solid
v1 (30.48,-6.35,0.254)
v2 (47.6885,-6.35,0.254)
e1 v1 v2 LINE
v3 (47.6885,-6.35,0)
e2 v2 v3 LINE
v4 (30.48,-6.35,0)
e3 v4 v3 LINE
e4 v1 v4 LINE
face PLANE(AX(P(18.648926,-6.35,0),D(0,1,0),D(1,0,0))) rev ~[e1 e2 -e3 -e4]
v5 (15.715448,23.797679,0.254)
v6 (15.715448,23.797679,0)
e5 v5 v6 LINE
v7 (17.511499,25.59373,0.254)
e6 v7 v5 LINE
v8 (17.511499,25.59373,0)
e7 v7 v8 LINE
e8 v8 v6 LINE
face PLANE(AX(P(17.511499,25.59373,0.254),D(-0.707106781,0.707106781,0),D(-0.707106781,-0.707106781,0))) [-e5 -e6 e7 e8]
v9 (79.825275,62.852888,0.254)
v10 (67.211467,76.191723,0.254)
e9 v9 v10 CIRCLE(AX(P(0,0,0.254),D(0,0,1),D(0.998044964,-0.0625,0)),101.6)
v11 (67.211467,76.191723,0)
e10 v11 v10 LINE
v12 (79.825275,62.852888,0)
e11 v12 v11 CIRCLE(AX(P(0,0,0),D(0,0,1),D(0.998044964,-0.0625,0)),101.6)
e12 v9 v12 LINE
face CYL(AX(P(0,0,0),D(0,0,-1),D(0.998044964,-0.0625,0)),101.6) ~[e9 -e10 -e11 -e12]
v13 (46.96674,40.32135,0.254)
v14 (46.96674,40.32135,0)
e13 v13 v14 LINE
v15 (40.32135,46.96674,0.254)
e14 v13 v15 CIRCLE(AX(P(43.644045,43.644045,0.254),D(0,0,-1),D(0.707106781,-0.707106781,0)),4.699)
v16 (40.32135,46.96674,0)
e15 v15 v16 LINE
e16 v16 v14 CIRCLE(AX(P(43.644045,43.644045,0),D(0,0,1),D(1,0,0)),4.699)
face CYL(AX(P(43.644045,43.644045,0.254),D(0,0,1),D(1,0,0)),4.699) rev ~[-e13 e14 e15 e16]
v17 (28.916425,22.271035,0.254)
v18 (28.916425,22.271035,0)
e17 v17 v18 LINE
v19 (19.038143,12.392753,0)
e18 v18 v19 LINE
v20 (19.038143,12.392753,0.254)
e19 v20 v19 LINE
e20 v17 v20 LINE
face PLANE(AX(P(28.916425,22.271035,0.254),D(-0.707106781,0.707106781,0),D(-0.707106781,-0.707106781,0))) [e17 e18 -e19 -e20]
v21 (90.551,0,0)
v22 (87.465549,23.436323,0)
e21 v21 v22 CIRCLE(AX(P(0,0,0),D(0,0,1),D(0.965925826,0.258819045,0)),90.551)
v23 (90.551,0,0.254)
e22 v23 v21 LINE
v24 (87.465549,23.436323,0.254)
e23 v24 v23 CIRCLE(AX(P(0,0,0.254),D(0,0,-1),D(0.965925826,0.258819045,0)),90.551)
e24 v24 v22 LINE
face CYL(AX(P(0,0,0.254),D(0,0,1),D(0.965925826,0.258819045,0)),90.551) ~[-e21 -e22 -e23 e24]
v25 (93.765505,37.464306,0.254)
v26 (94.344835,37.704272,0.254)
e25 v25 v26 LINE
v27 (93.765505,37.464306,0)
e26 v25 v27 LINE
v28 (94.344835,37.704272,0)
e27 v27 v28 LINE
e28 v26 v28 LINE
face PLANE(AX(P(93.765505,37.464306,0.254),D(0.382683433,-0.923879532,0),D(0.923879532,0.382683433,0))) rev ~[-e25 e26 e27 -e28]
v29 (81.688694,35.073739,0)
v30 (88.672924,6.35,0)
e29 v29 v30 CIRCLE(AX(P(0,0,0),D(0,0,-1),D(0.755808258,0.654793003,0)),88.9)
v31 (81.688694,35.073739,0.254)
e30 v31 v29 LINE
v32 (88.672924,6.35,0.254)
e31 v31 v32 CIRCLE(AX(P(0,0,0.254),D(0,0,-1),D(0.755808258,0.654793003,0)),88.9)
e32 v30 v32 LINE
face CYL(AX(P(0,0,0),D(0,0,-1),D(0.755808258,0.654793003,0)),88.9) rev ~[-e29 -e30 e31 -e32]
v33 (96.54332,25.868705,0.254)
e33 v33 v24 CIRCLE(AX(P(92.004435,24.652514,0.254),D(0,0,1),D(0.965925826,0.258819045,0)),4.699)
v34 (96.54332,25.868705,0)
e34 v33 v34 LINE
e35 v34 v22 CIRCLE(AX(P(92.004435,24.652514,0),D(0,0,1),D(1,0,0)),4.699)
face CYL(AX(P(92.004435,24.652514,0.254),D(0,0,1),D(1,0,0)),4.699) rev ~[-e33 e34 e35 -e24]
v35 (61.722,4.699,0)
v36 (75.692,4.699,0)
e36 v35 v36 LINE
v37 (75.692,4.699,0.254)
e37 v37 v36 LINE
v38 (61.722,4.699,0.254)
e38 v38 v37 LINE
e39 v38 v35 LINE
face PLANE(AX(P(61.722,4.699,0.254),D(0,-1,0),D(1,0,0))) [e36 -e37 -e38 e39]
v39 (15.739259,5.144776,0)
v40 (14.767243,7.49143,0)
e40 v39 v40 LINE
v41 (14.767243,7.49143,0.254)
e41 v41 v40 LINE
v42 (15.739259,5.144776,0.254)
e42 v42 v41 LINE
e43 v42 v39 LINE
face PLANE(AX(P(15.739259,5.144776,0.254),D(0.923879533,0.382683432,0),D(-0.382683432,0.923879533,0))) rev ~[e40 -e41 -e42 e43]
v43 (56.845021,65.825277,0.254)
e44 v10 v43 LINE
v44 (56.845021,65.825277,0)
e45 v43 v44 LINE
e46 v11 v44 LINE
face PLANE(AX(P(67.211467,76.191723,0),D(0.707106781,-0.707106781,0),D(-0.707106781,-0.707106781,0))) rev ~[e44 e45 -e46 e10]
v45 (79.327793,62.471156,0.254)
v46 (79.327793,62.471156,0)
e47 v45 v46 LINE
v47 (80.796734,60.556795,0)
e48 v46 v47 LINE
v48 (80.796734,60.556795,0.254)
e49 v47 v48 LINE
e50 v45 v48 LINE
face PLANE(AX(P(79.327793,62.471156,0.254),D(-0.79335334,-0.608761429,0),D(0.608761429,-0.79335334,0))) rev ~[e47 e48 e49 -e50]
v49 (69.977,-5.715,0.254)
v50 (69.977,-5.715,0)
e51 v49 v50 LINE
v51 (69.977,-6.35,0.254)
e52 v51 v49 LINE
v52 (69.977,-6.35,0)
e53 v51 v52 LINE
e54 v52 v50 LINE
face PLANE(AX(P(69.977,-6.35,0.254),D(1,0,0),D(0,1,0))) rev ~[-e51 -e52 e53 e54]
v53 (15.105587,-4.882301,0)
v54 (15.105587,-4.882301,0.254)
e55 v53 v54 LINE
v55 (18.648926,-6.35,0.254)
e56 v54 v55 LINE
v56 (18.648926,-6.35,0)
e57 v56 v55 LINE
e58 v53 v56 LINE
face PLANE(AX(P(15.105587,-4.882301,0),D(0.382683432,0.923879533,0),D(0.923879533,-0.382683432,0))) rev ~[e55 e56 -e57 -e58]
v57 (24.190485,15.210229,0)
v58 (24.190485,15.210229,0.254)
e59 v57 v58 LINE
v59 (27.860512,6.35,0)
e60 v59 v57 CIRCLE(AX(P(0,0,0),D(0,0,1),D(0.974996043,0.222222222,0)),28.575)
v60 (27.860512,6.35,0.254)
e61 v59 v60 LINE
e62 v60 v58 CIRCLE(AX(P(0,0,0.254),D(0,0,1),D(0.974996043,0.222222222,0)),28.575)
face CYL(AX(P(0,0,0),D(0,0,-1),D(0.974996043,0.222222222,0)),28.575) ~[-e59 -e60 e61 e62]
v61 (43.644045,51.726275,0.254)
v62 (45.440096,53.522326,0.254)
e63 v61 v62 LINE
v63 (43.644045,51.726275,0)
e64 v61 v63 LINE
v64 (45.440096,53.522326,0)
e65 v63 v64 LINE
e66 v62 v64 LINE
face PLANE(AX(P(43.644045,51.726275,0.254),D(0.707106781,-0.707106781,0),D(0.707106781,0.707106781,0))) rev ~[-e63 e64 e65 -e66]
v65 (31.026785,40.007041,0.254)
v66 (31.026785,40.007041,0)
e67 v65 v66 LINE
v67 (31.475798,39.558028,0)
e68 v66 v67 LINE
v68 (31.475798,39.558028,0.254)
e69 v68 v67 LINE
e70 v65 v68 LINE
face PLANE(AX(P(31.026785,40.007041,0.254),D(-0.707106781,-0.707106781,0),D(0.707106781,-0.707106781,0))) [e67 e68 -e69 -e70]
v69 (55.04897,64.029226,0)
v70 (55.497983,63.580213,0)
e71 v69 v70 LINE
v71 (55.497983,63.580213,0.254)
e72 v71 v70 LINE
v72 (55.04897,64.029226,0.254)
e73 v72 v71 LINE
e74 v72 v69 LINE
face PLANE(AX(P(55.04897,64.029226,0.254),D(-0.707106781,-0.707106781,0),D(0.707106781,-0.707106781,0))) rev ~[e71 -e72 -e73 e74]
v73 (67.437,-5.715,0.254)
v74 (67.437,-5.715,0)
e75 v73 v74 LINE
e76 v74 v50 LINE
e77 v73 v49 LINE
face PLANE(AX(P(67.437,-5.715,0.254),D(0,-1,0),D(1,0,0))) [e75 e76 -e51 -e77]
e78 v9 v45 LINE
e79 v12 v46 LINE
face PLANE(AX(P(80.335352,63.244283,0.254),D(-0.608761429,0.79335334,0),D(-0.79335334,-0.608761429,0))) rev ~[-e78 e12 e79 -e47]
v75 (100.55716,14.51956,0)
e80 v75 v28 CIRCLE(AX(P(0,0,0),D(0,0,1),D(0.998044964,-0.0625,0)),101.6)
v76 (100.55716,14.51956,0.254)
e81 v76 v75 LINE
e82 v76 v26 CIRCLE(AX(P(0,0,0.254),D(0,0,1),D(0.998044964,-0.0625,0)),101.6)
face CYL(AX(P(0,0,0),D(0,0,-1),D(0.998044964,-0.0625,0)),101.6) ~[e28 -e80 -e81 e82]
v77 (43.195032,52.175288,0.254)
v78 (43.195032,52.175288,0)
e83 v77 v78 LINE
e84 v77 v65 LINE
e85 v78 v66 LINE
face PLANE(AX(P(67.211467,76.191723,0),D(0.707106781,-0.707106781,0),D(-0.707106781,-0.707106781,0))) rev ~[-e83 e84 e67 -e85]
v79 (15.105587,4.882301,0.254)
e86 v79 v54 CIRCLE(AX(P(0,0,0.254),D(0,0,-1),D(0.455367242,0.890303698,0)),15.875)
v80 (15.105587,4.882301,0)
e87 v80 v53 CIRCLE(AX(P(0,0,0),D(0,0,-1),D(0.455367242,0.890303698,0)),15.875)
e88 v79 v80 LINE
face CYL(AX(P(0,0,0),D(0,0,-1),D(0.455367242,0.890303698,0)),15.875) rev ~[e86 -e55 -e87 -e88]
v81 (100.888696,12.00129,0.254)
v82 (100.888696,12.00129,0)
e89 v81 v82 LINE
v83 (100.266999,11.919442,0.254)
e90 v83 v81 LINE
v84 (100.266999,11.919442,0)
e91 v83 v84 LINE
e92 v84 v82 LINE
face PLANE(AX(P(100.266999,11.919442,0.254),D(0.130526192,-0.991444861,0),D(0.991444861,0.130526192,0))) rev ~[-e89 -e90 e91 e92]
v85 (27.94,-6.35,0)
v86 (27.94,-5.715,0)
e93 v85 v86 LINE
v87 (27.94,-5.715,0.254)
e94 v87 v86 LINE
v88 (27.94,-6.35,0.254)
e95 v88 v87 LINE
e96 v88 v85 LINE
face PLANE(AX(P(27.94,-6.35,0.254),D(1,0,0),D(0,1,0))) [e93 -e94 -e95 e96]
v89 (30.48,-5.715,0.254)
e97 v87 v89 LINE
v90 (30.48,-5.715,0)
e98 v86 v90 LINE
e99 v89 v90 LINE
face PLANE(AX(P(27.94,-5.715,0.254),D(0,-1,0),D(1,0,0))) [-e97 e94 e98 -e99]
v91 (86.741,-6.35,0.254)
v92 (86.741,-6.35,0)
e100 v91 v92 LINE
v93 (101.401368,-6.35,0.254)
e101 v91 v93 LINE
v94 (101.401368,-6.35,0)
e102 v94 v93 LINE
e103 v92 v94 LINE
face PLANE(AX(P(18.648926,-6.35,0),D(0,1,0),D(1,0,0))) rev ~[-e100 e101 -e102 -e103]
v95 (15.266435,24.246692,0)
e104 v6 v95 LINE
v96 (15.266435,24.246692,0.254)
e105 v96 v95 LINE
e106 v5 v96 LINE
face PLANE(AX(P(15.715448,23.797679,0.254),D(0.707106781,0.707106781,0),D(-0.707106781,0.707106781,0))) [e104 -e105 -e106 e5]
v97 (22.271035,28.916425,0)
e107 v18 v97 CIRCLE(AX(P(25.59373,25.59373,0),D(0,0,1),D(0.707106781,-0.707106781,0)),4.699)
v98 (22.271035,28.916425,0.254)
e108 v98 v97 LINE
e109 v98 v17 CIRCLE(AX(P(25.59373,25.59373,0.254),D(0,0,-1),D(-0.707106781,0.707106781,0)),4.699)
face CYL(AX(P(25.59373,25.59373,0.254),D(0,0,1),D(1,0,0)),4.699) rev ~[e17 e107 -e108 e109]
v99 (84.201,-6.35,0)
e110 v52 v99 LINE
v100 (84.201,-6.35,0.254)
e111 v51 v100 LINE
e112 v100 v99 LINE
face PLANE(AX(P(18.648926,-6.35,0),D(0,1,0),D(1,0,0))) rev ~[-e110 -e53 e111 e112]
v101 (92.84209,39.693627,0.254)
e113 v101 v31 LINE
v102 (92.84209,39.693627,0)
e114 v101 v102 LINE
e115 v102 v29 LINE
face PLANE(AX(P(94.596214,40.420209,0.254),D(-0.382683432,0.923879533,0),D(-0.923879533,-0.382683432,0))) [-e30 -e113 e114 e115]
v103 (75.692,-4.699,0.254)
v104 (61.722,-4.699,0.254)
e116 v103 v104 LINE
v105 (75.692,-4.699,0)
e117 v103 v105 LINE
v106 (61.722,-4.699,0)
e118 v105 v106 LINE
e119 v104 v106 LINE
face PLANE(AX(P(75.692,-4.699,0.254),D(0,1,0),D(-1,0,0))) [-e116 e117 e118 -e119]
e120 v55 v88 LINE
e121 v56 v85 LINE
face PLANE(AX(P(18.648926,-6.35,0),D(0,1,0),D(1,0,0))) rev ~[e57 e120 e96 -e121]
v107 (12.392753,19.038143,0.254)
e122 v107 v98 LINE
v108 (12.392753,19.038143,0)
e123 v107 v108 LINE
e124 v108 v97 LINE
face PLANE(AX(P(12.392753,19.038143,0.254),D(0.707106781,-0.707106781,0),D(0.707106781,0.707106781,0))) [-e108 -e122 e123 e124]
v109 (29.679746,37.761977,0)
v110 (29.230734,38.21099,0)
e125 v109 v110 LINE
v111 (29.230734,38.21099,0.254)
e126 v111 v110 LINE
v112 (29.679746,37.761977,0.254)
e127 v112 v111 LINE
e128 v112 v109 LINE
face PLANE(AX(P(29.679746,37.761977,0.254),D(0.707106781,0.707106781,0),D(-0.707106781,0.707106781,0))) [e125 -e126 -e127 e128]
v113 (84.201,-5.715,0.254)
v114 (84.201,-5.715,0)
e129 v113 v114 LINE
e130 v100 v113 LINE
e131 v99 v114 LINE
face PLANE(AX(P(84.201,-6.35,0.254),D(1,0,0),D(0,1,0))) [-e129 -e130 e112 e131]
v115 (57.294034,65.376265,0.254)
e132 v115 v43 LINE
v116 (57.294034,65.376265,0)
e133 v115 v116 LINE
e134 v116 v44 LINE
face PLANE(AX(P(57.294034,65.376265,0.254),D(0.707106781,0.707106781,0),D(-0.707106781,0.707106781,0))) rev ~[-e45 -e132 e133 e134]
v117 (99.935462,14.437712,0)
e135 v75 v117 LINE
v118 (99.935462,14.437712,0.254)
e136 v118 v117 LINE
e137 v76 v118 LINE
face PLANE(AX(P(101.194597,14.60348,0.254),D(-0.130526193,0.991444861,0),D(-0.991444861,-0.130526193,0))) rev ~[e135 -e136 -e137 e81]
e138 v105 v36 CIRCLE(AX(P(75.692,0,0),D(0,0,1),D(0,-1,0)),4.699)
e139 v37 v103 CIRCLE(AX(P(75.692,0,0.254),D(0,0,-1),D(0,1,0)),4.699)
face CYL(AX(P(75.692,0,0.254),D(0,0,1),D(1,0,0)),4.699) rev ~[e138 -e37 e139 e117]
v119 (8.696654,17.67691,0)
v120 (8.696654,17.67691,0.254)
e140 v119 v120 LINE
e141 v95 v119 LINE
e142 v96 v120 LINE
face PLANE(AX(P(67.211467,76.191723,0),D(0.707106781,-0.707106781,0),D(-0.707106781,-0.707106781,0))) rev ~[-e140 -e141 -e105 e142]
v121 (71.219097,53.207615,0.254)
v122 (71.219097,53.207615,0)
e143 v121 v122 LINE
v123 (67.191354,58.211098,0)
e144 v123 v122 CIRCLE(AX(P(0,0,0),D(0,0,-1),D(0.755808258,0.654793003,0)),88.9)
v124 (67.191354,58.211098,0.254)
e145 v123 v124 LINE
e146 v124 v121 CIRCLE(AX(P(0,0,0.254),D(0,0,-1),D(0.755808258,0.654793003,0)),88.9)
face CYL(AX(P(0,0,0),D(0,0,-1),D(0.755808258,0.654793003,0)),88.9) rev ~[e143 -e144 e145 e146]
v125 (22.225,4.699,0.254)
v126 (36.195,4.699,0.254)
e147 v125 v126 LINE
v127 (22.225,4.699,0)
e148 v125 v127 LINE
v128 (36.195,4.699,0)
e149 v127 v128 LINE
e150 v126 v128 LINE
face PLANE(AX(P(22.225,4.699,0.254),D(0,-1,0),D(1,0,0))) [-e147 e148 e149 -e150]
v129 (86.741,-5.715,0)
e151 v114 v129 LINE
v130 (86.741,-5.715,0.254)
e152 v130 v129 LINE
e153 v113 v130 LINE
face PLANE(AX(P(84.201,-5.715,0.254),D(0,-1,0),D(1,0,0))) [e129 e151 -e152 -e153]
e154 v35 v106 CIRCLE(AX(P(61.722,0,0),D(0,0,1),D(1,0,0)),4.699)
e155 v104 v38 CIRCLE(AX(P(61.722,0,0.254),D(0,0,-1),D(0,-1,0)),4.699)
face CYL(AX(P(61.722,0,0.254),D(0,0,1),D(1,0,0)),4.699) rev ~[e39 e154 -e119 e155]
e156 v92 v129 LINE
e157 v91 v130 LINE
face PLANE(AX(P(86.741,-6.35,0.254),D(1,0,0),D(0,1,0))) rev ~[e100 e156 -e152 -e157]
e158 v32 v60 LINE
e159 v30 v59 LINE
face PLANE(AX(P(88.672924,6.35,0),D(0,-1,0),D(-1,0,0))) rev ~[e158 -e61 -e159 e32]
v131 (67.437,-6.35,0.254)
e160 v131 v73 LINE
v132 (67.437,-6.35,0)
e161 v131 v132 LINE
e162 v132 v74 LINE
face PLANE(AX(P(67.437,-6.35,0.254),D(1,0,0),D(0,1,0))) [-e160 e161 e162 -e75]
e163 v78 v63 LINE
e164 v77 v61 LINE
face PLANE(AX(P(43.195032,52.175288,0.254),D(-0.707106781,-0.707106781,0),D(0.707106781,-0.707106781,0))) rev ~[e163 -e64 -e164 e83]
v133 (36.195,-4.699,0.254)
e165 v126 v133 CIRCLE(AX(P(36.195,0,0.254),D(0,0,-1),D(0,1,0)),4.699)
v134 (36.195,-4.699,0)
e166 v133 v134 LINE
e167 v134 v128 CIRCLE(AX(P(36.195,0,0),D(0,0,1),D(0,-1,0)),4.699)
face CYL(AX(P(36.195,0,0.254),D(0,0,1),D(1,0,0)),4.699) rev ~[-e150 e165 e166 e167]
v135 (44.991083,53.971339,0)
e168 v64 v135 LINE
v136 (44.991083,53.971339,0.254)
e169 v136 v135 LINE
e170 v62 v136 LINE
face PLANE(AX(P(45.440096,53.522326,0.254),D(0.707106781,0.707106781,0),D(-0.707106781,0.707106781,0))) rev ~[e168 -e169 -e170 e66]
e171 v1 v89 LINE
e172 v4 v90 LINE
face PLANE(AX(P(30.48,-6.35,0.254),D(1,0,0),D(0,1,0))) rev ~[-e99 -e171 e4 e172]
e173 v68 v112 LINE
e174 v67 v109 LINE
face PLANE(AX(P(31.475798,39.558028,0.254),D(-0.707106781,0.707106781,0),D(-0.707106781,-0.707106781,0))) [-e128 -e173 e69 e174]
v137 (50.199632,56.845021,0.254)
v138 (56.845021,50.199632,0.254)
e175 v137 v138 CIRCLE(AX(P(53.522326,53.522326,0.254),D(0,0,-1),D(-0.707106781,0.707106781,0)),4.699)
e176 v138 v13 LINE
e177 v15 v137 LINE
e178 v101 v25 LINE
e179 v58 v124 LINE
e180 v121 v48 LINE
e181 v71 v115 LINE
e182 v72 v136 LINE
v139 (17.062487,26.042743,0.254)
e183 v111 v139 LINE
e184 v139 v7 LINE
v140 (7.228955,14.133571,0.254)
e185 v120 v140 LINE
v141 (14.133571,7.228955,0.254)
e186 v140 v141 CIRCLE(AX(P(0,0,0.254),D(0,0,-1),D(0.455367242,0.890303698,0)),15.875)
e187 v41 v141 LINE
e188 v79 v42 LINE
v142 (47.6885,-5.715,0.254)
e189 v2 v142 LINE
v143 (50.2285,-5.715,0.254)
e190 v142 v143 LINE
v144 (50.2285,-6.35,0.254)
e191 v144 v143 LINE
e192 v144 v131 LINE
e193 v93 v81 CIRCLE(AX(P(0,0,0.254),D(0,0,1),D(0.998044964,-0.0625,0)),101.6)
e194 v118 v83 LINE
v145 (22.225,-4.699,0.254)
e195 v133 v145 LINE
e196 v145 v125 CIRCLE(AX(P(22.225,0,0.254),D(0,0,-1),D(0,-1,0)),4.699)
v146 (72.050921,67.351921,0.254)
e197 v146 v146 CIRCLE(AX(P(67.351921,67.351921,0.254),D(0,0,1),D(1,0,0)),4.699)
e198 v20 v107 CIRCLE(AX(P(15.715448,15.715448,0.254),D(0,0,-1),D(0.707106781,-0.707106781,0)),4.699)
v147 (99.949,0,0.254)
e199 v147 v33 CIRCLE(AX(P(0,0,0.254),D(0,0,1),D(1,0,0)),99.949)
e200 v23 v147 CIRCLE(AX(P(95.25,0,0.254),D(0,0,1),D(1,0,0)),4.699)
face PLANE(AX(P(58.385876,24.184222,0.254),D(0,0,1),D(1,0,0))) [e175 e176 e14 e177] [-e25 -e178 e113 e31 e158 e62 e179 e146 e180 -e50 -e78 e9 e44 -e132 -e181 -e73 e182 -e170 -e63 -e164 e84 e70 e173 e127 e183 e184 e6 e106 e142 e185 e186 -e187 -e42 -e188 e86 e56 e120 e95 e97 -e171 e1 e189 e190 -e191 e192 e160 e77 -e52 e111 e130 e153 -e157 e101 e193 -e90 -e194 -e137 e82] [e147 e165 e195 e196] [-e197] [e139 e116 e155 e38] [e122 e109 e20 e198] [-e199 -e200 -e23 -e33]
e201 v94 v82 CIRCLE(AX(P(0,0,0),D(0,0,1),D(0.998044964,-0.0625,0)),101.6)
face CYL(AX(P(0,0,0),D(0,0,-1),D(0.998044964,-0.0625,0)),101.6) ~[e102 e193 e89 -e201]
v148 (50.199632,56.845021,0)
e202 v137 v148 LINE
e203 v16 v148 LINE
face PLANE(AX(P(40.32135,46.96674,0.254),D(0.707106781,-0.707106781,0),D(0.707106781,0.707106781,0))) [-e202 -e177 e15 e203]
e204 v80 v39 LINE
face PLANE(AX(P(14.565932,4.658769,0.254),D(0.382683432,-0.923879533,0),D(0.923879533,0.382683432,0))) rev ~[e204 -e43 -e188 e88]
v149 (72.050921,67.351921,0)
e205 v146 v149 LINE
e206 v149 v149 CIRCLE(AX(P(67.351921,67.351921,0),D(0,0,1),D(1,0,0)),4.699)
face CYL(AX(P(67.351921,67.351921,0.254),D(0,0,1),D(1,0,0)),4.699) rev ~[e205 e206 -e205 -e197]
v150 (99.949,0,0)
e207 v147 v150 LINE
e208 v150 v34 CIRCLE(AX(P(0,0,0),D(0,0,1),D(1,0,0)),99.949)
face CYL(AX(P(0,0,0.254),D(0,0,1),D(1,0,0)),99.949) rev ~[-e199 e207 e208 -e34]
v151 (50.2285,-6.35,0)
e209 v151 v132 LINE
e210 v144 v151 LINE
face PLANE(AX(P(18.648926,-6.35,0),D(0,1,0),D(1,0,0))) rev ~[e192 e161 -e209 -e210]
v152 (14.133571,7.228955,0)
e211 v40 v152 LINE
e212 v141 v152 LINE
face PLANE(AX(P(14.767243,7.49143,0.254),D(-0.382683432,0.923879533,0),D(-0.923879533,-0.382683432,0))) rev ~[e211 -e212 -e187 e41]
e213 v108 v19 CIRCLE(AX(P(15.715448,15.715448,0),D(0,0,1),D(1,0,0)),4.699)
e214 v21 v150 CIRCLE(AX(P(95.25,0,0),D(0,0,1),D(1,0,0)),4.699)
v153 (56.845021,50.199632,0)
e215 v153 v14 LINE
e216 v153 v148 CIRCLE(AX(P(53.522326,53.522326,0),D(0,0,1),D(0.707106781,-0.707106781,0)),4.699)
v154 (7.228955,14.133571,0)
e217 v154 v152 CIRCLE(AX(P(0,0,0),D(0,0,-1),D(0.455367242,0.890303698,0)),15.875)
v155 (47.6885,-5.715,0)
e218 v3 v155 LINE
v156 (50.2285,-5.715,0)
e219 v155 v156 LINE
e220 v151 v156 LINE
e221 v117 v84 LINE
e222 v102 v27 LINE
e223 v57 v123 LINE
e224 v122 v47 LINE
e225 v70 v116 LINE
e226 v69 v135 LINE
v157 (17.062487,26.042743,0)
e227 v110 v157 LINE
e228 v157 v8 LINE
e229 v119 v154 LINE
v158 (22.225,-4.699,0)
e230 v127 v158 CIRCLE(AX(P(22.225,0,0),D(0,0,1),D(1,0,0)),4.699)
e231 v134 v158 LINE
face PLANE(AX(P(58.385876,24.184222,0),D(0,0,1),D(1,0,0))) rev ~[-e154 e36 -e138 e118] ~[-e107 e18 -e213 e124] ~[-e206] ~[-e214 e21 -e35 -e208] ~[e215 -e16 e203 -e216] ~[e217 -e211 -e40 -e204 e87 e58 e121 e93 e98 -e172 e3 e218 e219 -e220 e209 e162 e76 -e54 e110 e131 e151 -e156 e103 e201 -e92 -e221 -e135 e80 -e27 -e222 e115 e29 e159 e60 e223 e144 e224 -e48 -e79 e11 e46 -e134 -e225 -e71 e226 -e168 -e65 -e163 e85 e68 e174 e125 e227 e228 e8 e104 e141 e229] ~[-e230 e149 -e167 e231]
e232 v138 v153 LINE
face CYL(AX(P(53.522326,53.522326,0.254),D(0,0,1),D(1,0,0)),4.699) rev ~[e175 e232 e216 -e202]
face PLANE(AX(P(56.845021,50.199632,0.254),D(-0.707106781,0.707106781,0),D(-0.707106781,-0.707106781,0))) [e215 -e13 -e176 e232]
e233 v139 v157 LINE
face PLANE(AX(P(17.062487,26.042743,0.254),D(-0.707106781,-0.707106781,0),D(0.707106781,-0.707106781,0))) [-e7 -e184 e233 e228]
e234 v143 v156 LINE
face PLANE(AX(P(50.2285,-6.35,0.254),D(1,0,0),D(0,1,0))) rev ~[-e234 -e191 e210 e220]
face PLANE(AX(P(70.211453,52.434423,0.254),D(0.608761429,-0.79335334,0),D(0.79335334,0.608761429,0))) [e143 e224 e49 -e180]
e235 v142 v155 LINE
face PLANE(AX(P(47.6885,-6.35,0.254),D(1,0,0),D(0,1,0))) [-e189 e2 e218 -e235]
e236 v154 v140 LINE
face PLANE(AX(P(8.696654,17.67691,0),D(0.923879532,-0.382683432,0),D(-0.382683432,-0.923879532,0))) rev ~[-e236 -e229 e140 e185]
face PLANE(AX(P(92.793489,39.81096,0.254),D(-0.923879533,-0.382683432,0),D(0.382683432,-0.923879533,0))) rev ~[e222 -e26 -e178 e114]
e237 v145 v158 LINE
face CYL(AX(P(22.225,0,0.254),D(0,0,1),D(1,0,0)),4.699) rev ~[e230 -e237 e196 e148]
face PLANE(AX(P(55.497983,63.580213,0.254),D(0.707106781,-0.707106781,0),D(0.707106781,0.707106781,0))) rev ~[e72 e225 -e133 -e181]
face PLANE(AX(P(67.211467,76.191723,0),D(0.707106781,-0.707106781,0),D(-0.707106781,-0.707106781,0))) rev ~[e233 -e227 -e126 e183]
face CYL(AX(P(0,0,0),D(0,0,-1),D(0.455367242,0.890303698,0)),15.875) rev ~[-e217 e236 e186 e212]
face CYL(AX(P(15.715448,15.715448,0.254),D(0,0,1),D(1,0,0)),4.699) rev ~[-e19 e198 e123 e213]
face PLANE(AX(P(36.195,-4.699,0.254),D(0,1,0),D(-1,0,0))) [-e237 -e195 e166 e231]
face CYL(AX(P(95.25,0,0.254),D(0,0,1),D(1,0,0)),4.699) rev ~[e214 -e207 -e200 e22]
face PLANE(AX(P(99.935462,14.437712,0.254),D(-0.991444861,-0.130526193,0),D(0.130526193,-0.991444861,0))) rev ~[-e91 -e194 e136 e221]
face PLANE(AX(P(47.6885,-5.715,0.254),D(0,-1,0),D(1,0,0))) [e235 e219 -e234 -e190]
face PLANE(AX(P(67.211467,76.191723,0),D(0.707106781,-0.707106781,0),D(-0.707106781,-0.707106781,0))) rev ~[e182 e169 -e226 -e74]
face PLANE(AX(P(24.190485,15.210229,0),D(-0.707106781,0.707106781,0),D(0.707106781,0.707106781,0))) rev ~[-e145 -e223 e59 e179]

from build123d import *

# Parameters (mm, degrees)
BOSS_EXTRUDE1_DEPTH = 0.254
SKETCH2_R           = 4.699
CUT_EXTRUDE1_DEPTH  = 1.254
SKETCH3_W           = 2.54
SKETCH3_H           = 0.635
CUT_EXTRUDE2_DEPTH  = 1.254
CUT_EXTRUDE4_DEPTH  = 1.254
CUT_EXTRUDE5_DEPTH  = 1.254


with BuildPart() as part:
    # Sketch1 → Boss-Extrude1 (new body)
    with BuildSketch(Plane.XY):
        with BuildLine():
            Line((67.21146711, 76.191723231), (8.696654013, 17.676910134))
            Line((8.696654013, 17.676910134), (7.228954972, 14.133571205))
            ThreePointArc((7.228954972, 14.133571205), (14.666587579, 6.075099489), (15.105587123, -4.88230096))
            Line((15.105587123, -4.88230096), (18.648926052, -6.35))
            Line((18.648926052, -6.35), (101.401368334, -6.35))
            ThreePointArc((101.401368334, -6.35), (93.866160503, 38.880636728), (67.21146711, 76.191723231))
        make_face()
        with BuildLine():
            Line((88.672924278, 6.35), (27.86051193, 6.35))
            ThreePointArc((27.86051193, 6.35), (26.399857642, 10.93517908), (24.190484974, 15.210228852))
            Line((24.190484974, 15.210228852), (67.191354125, 58.211098004))
            ThreePointArc((67.191354125, 58.211098004), (82.13289044, 34.020557137), (88.672924278, 6.35))
        make_face(mode=Mode.SUBTRACT)
    extrude(amount=BOSS_EXTRUDE1_DEPTH)

    # Sketch2 → Cut-Extrude1 (cut, through all)
    with BuildSketch(Plane.XY.offset(0.254)):
        with Locations((22.225, 0)):
            Circle(SKETCH2_R)
        with Locations((36.195, 0)):
            Circle(SKETCH2_R)
        with Locations((61.722, 0)):
            Circle(SKETCH2_R)
        with Locations((75.692, 0)):
            Circle(SKETCH2_R)
        with Locations((95.25, 0)):
            Circle(SKETCH2_R)
        with Locations((15.715448212, 15.715448212)):
            Circle(SKETCH2_R)
        with Locations((25.593729945, 25.593729945)):
            Circle(SKETCH2_R)
        with Locations((43.644044748, 43.644044748)):
            Circle(SKETCH2_R)
        with Locations((53.522326482, 53.522326482)):
            Circle(SKETCH2_R)
        with Locations((92.004434954, 24.652514046)):
            Circle(SKETCH2_R)
        with Locations((82.48891971, 47.625)):
            Circle(SKETCH2_R)
        with Locations((67.351920908, 67.351920908)):
            Circle(SKETCH2_R)
    extrude(amount=-CUT_EXTRUDE1_DEPTH, mode=Mode.SUBTRACT)

    # Sketch3 → Cut-Extrude2 (cut, through all)
    with BuildSketch(Plane.XY.offset(0.254)):
        Polygon((15.266435406, 24.246691527), (17.06248663, 26.042742751), (17.511499436, 25.593729945), (15.715448212, 23.797678721), align=None)
        Polygon((44.991083167, 53.971339288), (43.195031942, 52.175288063), (43.644044748, 51.726275257), (45.440095973, 53.522326482), align=None)
        with Locations((29.21, -6.0325)):
            Rectangle(SKETCH3_W, SKETCH3_H)
        with Locations((68.707, -6.0325)):
            Rectangle(SKETCH3_W, SKETCH3_H)
        Polygon((29.230733674, 38.210989795), (31.026784898, 40.007041019), (31.475797704, 39.558028213), (29.67974648, 37.761976989), align=None)
        Polygon((56.845021246, 65.825277367), (55.048970022, 64.029226143), (55.497982828, 63.580213337), (57.294034052, 65.376264561), align=None)
        with Locations((48.9585, -6.0325)):
            Rectangle(SKETCH3_W, SKETCH3_H)
        with Locations((85.471, -6.0325)):
            Rectangle(SKETCH3_W, SKETCH3_H)
        Polygon((99.935462164, 14.437711971), (100.266998693, 11.919442024), (101.526133667, 12.085210288), (101.194597138, 14.603480236), align=None)
        Polygon((93.765504959, 37.464305742), (94.938831965, 37.950313702), (93.966816047, 40.296967714), (92.793489041, 39.810959755), align=None)
        Polygon((79.327792988, 62.471156422), (80.874047017, 60.456038938), (81.88160576, 61.229165953), (80.33535173, 63.244283437), align=None)
        Polygon((13.593916116, 7.005422516), (14.565932035, 4.658768503), (15.739259041, 5.144776462), (14.767243123, 7.491430475), align=None)
    extrude(amount=-CUT_EXTRUDE2_DEPTH, mode=Mode.SUBTRACT)

    # Sketch6 → Cut-Extrude4 (cut, through all)
    with BuildSketch(Plane.XY.offset(0.254)):
        with BuildLine():
            Line((12.392753447, 19.038142977), (22.27103518, 28.91642471))
            ThreePointArc((22.27103518, 28.91642471), (28.91642471, 28.91642471), (28.91642471, 22.27103518))
            Line((28.91642471, 22.27103518), (19.038142977, 12.392753447))
            ThreePointArc((19.038142977, 12.392753447), (12.392753447, 12.392753447), (12.392753447, 19.038142977))
        make_face()
        with BuildLine():
            Line((40.321349984, 46.966739513), (50.199631717, 56.845021246))
            ThreePointArc((50.199631717, 56.845021246), (56.845021246, 56.845021246), (56.845021246, 50.199631717))
            Line((56.845021246, 50.199631717), (46.966739513, 40.321349984))
            ThreePointArc((46.966739513, 40.321349984), (40.321349984, 40.321349984), (40.321349984, 46.966739513))
        make_face()
        with BuildLine():
            Line((22.225, 4.699), (36.195, 4.699))
            ThreePointArc((36.195, 4.699), (40.894, 0), (36.195, -4.699))
            Line((36.195, -4.699), (22.225, -4.699))
            ThreePointArc((22.225, -4.699), (17.526, 0), (22.225, 4.699))
        make_face()
        with BuildLine():
            Line((61.722, 4.699), (75.692, 4.699))
            ThreePointArc((75.692, 4.699), (80.391, 0), (75.692, -4.699))
            Line((75.692, -4.699), (61.722, -4.699))
            ThreePointArc((61.722, -4.699), (57.023, 0), (61.722, 4.699))
        make_face()
        with BuildLine():
            ThreePointArc((99.949, 0), (99.093922449, 13.045962386), (96.543320412, 25.868704739))
            ThreePointArc((96.543320412, 25.868704739), (90.788244261, 29.191399504), (87.465549496, 23.436323353))
            ThreePointArc((87.465549496, 23.436323353), (89.776323642, 11.819277232), (90.551, 0))
            ThreePointArc((90.551, 0), (95.25, -4.699), (99.949, 0))
        make_face()
    extrude(amount=-CUT_EXTRUDE4_DEPTH, mode=Mode.SUBTRACT)

    # Sketch5 → Cut-Extrude5 (cut, through all)
    with BuildSketch(Plane.XY.offset(0.254)):
        with BuildLine():
            Line((70.21145334, 52.434423044), (82.30303448, 61.71261958))
            ThreePointArc((82.30303448, 61.71261958), (89.088033287, 51.435), (94.59621353, 40.420208878))
            Line((94.59621353, 40.420208878), (80.515269058, 34.587690707))
            ThreePointArc((80.515269058, 34.587690707), (75.889806134, 43.815), (70.21145334, 52.434423044))
        make_face()
    extrude(amount=-CUT_EXTRUDE5_DEPTH, mode=Mode.SUBTRACT)


solid = part.part
